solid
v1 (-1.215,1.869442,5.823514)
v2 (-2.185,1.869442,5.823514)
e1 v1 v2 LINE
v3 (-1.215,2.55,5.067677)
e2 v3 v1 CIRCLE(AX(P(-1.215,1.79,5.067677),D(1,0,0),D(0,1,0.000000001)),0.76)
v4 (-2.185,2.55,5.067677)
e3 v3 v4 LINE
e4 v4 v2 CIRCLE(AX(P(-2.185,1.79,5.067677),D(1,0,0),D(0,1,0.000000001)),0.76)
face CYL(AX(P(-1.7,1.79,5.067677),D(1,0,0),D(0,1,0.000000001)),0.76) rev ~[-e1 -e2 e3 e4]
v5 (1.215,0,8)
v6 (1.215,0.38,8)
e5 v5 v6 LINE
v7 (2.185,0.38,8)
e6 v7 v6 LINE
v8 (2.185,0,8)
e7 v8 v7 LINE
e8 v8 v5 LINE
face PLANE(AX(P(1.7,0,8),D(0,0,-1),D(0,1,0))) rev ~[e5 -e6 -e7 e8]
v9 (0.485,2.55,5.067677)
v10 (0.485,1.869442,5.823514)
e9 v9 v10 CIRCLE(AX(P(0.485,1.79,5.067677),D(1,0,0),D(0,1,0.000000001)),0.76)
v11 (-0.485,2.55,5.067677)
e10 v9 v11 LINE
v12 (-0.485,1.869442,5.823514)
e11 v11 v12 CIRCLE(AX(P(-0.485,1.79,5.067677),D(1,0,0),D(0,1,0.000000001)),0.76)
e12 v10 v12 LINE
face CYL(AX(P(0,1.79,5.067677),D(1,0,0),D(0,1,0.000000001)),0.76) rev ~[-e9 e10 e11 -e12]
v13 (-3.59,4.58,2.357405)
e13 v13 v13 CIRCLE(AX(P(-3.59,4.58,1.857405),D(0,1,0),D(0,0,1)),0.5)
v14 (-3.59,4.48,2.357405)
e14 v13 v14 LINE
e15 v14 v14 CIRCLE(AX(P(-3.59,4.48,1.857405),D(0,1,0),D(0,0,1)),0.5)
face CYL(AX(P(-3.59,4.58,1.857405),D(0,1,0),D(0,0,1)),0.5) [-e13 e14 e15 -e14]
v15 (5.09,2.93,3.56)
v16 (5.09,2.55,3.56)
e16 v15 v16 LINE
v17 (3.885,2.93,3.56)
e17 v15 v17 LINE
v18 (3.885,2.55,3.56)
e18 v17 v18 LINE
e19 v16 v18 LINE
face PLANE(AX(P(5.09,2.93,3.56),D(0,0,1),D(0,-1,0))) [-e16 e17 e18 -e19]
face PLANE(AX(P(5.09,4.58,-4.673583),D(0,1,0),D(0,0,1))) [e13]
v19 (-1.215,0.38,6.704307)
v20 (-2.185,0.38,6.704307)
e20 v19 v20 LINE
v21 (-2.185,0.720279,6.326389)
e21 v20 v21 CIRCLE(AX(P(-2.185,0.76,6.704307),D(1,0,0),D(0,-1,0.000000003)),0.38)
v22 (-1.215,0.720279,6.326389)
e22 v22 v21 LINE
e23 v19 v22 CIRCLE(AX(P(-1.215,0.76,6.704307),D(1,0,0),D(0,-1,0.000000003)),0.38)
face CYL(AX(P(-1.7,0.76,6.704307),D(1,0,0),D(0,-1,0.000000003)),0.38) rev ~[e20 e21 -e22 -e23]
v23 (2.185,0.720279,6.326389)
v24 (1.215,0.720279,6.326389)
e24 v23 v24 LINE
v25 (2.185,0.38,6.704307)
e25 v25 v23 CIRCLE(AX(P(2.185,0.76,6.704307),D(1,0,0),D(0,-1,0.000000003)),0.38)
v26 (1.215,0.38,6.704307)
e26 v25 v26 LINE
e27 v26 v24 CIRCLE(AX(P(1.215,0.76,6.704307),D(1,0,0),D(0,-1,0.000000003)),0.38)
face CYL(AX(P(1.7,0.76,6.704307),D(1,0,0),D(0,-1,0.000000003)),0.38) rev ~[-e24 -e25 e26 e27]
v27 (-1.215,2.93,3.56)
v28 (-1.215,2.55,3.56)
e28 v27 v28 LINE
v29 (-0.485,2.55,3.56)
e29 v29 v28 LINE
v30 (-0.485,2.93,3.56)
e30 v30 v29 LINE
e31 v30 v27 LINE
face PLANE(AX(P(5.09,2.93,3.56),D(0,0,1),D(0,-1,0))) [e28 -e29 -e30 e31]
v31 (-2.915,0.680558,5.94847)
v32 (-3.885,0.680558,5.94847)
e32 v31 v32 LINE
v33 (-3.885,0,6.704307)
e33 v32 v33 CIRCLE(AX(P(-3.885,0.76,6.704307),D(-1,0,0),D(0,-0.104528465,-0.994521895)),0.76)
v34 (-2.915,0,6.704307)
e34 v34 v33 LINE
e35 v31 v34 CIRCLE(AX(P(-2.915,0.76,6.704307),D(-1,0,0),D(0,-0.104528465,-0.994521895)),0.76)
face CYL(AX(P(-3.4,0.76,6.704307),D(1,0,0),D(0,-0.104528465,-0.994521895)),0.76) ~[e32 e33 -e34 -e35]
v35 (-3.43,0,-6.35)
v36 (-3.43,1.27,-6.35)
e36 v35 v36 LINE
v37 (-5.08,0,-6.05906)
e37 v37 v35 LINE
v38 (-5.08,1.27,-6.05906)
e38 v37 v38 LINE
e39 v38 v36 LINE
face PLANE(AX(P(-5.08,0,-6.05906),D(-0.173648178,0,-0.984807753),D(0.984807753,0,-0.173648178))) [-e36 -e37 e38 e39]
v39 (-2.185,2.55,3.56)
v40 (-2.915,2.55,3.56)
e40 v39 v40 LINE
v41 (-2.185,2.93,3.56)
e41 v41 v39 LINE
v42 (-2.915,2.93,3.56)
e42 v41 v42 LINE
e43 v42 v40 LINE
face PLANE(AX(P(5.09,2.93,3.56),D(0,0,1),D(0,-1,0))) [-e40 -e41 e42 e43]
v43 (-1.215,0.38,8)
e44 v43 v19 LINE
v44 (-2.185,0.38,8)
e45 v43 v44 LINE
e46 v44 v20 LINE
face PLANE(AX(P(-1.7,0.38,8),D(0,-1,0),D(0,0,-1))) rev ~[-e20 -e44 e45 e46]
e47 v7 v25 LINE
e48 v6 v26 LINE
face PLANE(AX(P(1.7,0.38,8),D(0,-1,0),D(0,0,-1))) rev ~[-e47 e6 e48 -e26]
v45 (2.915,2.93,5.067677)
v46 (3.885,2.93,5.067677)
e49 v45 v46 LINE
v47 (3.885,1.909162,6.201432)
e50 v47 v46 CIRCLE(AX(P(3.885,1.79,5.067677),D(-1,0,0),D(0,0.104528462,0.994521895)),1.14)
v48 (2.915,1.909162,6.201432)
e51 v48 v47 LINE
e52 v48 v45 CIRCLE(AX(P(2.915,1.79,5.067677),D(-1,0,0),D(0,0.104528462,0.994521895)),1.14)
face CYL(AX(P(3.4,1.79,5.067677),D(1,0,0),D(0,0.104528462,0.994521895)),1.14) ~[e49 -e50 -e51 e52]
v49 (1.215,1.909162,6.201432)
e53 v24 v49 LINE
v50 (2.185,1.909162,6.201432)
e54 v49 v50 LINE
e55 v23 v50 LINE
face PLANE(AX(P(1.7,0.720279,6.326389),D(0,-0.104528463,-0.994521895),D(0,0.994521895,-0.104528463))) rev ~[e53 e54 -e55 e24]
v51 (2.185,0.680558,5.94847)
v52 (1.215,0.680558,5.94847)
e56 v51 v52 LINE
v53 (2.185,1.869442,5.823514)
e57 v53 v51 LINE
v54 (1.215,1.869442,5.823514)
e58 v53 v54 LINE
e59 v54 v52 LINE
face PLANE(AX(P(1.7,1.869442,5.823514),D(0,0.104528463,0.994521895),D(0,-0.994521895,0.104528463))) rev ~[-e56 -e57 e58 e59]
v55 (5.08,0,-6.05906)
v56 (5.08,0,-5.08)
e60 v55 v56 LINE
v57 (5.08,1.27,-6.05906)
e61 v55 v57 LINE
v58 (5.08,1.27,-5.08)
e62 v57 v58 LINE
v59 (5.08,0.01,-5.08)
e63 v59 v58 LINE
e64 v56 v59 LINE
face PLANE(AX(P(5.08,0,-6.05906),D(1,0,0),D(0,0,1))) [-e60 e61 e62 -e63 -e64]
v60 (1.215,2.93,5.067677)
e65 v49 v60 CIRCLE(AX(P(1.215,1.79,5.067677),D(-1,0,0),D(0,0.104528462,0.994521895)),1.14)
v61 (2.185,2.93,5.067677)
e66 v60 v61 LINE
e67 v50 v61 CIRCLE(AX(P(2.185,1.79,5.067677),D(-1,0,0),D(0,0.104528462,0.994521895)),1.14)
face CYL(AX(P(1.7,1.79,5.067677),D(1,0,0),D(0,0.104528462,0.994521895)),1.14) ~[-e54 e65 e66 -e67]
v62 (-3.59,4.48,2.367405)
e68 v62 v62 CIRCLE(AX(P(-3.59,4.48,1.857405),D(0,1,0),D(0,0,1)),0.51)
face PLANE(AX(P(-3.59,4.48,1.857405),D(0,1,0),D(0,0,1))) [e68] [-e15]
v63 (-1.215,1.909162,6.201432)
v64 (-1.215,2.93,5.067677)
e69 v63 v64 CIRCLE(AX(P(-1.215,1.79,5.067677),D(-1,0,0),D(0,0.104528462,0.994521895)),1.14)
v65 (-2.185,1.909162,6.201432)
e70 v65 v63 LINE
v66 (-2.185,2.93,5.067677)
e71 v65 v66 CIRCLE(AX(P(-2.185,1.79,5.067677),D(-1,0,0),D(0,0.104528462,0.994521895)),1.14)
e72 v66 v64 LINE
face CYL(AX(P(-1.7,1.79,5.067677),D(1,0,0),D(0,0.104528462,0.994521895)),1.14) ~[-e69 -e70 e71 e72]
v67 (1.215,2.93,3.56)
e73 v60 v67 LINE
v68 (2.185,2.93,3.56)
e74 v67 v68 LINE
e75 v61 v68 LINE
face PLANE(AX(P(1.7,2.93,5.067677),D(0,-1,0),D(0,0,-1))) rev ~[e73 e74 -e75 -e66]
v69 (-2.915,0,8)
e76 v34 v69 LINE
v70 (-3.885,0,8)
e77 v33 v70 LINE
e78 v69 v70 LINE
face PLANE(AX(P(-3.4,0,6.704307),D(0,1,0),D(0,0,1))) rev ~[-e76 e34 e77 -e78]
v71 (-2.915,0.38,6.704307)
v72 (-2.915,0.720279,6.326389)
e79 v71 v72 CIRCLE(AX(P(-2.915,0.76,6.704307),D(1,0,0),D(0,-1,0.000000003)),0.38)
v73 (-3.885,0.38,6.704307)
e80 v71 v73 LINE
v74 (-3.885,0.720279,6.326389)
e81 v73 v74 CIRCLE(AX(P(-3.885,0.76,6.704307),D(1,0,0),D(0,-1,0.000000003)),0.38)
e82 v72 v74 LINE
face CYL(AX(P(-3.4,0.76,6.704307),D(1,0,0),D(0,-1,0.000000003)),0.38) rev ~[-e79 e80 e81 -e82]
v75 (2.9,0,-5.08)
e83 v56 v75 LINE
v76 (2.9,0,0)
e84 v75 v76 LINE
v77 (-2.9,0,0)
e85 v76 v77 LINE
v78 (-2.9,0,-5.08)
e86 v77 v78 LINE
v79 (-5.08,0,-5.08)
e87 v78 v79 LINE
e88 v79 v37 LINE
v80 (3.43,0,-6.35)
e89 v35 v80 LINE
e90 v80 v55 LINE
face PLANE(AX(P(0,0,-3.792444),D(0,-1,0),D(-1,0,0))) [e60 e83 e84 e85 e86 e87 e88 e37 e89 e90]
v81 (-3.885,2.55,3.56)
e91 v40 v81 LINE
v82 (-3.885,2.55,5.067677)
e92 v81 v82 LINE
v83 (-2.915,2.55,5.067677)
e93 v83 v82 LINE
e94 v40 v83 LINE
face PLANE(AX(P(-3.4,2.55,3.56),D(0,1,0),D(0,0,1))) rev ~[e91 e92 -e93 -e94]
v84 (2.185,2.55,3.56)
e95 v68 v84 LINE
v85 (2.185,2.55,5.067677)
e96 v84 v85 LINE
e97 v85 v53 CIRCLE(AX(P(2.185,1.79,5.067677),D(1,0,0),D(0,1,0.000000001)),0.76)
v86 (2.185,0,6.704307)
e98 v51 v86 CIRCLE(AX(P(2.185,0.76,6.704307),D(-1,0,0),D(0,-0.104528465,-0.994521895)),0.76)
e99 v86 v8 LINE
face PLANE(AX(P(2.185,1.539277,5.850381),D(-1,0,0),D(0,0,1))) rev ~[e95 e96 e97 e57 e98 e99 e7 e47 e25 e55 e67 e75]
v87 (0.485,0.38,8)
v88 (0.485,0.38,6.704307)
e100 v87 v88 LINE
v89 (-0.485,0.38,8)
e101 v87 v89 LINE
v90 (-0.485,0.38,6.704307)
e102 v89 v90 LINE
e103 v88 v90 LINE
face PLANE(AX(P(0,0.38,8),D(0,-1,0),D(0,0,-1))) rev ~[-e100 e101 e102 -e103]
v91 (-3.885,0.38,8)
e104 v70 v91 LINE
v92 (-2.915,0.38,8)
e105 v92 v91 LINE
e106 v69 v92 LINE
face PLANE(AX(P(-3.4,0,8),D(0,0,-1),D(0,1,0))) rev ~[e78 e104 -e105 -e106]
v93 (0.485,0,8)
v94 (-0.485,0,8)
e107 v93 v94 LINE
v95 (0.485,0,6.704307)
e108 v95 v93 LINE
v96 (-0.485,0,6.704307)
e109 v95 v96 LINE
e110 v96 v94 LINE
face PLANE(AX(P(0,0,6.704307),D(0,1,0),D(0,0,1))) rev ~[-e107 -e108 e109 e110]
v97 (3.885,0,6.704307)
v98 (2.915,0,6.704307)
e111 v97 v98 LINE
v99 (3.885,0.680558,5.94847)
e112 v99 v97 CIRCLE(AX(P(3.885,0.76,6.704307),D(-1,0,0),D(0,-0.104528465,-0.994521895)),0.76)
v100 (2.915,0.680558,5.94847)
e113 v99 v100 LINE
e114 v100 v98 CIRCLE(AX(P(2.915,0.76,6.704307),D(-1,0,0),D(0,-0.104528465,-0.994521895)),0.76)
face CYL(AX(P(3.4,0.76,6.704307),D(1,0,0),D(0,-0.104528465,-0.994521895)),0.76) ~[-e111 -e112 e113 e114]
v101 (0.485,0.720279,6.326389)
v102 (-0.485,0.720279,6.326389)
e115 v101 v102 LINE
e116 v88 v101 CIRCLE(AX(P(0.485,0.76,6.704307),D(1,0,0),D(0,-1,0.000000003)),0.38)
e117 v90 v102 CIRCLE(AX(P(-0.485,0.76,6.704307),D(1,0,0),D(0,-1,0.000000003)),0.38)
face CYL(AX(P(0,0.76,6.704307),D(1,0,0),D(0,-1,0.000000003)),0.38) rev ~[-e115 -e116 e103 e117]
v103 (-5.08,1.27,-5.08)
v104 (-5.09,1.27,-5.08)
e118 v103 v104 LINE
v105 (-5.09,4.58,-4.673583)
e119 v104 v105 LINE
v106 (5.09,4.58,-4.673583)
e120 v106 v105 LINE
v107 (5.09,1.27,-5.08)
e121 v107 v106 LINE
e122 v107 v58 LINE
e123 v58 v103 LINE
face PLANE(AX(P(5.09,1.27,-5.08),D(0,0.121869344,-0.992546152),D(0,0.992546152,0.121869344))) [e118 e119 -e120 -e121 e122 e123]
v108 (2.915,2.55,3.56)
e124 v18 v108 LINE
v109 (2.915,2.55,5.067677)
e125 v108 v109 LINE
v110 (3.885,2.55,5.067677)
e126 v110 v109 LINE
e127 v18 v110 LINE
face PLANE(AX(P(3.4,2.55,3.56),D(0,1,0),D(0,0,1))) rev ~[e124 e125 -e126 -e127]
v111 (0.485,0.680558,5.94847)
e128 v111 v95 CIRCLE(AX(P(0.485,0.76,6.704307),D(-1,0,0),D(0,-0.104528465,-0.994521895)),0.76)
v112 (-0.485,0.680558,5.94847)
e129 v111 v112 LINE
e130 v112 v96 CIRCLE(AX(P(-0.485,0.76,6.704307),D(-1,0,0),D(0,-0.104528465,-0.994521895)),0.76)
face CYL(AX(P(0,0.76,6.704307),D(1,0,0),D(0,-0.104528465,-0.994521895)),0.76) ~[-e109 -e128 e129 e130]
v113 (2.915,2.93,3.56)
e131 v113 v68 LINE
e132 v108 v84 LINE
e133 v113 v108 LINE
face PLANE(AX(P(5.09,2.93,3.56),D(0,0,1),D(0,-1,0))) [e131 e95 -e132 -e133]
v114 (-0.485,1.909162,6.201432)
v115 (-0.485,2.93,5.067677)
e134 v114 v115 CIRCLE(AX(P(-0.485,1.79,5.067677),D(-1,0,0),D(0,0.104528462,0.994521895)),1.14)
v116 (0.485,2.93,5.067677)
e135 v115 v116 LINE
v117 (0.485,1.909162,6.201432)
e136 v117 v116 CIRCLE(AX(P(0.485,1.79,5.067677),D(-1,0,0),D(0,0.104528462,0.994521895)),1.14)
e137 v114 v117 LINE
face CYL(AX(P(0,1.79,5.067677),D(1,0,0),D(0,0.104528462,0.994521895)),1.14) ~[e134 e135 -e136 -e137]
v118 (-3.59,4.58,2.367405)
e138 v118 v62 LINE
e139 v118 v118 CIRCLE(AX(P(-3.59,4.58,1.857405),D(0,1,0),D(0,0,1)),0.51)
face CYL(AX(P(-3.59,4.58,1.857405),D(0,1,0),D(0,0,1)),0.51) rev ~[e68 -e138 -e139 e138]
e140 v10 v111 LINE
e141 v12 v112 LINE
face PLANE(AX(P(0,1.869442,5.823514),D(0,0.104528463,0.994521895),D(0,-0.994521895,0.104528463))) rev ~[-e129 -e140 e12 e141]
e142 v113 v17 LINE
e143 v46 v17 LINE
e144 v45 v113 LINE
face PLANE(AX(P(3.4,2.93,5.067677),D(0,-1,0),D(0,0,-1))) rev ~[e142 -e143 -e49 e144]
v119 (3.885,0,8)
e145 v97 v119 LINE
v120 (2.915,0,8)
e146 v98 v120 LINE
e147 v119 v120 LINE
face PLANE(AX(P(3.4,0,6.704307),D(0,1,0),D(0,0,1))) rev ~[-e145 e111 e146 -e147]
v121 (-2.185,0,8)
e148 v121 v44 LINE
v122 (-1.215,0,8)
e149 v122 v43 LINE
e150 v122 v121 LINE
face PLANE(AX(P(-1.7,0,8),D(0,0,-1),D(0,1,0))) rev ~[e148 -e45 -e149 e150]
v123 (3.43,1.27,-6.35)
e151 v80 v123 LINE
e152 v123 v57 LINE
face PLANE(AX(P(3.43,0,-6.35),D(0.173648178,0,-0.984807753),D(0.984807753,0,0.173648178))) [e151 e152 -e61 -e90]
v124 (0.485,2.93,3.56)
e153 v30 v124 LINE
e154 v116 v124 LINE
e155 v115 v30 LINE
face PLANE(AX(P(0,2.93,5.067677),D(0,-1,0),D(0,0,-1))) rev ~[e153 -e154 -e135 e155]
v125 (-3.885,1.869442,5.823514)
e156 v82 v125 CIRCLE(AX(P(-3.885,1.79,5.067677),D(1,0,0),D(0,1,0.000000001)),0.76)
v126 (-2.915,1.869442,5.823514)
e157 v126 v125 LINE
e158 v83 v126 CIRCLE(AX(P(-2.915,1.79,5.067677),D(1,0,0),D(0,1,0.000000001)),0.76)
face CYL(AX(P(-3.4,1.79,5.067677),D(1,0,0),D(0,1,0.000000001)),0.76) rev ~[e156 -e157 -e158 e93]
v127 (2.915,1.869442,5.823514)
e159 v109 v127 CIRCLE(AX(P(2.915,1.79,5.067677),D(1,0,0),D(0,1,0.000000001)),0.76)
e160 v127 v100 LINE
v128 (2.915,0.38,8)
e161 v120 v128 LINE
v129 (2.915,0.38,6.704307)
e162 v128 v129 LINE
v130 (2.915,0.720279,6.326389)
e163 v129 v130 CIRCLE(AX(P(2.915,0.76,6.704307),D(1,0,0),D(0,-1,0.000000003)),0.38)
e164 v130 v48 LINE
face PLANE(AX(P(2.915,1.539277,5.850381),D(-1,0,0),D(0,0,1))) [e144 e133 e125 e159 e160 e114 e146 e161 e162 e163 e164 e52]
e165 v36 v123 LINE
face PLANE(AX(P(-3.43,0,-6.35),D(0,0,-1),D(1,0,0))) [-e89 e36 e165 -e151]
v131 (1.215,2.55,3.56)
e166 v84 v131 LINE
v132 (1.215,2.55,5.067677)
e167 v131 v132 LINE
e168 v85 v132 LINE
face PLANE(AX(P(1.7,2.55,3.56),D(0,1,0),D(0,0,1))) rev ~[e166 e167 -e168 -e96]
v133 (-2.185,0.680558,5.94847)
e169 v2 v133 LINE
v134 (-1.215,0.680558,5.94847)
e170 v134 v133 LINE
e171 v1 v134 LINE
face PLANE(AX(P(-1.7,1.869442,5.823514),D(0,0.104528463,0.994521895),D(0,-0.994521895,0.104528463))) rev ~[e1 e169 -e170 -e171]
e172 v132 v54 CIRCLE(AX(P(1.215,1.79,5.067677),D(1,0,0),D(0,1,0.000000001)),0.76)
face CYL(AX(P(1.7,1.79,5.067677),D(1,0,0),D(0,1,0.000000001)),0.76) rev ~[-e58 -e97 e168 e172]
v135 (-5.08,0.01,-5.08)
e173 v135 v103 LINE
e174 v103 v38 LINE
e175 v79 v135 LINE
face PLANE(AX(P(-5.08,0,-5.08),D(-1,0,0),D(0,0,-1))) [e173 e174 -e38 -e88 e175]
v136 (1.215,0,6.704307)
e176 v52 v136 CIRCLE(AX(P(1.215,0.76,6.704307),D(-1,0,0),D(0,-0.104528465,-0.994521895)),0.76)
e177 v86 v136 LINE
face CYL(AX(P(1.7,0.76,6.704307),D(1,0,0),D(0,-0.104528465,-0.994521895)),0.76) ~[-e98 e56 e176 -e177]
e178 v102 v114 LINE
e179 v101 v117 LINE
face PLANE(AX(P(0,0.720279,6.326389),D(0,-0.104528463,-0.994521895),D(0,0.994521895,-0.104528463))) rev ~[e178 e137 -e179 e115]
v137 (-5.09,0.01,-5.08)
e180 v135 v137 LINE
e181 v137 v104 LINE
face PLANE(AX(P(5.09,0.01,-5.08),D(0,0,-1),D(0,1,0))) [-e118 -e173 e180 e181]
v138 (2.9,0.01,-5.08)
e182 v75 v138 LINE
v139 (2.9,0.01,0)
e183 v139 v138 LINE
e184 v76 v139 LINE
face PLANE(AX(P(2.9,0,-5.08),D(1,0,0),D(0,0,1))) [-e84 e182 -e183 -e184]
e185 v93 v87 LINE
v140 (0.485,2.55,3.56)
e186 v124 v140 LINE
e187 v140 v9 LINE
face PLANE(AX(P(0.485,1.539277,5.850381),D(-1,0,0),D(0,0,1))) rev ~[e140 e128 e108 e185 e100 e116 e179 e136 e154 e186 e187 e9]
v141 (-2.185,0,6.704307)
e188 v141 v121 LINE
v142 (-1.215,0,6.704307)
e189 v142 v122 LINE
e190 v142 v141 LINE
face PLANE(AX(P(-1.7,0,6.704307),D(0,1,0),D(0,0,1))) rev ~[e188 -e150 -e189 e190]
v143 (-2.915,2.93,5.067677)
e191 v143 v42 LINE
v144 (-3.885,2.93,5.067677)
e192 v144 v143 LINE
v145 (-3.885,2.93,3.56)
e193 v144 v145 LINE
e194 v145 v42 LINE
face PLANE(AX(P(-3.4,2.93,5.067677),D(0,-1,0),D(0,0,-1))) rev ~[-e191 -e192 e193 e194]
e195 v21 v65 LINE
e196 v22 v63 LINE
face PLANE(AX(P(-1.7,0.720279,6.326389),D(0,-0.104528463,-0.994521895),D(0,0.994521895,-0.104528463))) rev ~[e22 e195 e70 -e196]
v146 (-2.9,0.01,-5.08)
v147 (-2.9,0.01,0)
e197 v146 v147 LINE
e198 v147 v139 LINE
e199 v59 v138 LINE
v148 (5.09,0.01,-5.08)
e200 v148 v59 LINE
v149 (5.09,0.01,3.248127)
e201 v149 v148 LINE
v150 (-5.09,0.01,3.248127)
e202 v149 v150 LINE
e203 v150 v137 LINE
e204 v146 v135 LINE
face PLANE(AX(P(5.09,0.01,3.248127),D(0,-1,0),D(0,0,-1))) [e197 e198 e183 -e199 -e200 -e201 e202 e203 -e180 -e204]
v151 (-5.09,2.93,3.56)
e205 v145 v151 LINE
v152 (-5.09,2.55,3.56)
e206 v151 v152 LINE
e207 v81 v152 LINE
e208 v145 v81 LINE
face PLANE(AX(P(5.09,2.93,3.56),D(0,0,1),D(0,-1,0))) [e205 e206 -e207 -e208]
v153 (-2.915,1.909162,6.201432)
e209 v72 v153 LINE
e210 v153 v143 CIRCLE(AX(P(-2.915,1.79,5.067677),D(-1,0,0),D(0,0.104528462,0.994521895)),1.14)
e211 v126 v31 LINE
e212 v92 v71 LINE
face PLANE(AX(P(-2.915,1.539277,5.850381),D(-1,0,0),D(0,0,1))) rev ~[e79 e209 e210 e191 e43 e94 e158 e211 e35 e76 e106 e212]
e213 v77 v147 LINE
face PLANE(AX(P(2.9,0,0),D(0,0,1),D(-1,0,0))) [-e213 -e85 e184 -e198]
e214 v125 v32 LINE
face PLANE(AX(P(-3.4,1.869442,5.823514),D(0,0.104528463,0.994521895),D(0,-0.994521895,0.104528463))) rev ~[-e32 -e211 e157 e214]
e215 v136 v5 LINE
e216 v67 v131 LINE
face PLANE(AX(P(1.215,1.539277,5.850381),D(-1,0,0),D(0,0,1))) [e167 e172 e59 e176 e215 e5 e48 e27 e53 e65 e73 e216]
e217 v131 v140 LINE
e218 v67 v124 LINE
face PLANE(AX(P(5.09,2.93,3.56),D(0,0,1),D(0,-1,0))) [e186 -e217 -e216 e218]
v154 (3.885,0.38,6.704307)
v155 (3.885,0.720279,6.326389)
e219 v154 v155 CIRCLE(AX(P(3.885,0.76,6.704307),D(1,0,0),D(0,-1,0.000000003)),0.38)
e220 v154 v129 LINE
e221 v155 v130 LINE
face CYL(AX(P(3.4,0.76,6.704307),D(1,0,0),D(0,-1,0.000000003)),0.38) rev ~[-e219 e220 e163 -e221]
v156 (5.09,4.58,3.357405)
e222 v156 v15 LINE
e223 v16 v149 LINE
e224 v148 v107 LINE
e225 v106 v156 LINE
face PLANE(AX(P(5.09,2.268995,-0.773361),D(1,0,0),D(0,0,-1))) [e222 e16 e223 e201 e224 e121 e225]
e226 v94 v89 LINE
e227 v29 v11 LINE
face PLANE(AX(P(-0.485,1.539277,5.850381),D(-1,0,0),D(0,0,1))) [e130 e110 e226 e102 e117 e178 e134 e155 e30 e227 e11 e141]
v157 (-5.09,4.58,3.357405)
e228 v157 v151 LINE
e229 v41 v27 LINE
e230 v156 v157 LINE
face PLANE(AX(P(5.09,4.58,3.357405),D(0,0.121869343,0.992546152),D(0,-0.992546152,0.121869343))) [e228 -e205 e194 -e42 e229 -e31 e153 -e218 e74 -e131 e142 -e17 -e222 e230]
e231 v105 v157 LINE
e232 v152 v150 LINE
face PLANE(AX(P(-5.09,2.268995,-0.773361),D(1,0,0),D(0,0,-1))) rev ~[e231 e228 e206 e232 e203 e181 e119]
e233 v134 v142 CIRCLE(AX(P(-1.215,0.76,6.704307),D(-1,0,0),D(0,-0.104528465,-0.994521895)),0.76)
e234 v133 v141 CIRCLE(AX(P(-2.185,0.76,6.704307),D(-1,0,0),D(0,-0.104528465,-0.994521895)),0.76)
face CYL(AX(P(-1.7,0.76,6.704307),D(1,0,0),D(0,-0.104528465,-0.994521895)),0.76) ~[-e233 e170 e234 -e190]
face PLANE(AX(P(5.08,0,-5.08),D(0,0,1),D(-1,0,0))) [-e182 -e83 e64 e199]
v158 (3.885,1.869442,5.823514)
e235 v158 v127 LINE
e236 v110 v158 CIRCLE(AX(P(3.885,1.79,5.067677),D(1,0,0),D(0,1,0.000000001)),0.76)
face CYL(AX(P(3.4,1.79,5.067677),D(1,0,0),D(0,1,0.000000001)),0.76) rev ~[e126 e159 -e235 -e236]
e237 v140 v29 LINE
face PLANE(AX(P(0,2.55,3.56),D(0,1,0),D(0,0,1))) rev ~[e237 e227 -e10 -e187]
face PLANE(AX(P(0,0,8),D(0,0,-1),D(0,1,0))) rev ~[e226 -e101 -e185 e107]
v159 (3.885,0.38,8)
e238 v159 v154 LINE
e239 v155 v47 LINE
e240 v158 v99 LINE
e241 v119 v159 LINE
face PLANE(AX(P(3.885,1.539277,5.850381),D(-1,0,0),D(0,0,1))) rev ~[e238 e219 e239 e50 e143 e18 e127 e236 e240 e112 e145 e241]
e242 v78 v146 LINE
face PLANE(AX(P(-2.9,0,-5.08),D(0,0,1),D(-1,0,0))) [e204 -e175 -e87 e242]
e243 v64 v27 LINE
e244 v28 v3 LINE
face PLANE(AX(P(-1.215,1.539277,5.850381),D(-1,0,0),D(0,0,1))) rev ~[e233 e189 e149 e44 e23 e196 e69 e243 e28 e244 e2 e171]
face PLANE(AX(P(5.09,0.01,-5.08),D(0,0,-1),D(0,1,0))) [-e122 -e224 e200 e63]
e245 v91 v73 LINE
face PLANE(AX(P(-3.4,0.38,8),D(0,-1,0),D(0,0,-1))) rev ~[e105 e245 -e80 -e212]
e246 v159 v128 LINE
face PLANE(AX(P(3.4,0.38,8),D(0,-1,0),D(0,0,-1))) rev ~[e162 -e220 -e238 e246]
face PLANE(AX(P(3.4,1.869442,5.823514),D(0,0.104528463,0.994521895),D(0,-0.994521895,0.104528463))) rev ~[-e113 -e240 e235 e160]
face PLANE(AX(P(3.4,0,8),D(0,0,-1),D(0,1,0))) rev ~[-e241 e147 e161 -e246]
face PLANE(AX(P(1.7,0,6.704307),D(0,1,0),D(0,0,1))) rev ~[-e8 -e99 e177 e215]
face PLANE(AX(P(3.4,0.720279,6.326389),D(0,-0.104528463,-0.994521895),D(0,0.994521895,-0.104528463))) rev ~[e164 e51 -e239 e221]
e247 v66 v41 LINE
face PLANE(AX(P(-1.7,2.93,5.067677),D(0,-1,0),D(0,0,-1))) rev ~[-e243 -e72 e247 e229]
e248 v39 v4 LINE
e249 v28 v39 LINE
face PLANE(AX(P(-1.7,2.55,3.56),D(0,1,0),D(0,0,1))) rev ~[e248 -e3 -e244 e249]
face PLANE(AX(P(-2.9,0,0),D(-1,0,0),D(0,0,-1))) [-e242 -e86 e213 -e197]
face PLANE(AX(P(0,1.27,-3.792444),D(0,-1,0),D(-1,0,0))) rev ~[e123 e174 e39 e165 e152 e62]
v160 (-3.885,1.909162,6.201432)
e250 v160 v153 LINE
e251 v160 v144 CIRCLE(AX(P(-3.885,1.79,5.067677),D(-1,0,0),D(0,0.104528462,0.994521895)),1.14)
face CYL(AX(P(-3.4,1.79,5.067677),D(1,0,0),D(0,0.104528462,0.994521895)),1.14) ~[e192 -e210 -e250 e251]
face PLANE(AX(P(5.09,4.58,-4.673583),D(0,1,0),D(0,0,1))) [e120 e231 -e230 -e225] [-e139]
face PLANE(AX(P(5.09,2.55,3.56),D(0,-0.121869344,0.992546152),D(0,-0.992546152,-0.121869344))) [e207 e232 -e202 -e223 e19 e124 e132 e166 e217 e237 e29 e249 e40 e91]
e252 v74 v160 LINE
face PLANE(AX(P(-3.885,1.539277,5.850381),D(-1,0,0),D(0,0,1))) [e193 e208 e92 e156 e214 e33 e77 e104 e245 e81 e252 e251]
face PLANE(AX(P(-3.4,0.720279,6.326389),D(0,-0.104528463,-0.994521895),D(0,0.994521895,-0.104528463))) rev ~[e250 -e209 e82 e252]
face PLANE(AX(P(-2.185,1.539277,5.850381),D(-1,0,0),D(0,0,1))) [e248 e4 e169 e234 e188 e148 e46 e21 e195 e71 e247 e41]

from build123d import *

# Parameters (mm, degrees)
EXTRUDE_1_DEPTH            = 1.27
EXTRUDE_2_DEPTH            = 0.01
EXTRUDE_2_DEPTH_BACK       = 10.17
SKETCH_4_R                 = 0.51
SKETCH_4_R_2               = 0.5
CUT_EXTRUDE_1_DEPTH        = 0.1
EXTRUDE_3_DEPTH            = 0.485
PATTERN_LINEAR_1_COUNT     = 3
PATTERN_LINEAR_1_PITCH     = 1.7
PATTERN_LINEAR_1_COL_COUNT = 3
PATTERN_LINEAR_1_COL_PITCH = 1.7


with BuildPart() as part:
    # Эскиз2 → Бобышка-Вытянуть1 (new body)
    with BuildSketch(Plane(origin=(0, 0, 0), x_dir=(1, 0, 0), z_dir=(0, 1, 0))):
        Polygon((3.43, 6.35), (5.08, 6.059060482), (5.08, 5.08), (2.9, 5.08), (2.9, 0), (-2.9, 0), (-2.9, 5.08), (-5.08, 5.08), (-5.08, 6.059060482), (-3.43, 6.35), align=None)
    extrude(amount=EXTRUDE_1_DEPTH)

    # Эскиз3 → Бобышка-Вытянуть2 (add, two sides: drawn at the far end of the back side and taken through both)
    with BuildSketch(Plane.ZY.offset(5.08).offset(-EXTRUDE_2_DEPTH_BACK)):
        Polygon((-5.08, 0.01), (-5.08, 1.27), (-4.673583103, 4.58), (3.357405475, 4.58), (3.56, 2.93), (3.56, 2.55), (3.248127215, 0.01), align=None)
    extrude(amount=EXTRUDE_2_DEPTH + EXTRUDE_2_DEPTH_BACK)

    # Эскиз4 → Вырез-Вытянуть1 (cut)
    with BuildSketch(Plane(origin=(0, 4.58, 0), x_dir=(1, 0, 0), z_dir=(0, 1, 0))):
        with Locations(Location((-3.59, -1.857405475, 0), (0, 0, 270))):
            Circle(SKETCH_4_R)
        with Locations(Location((-3.59, -1.857405475, 0), (0, 0, 270))):
            Circle(SKETCH_4_R_2, mode=Mode.SUBTRACT)
    extrude(amount=-CUT_EXTRUDE_1_DEPTH, mode=Mode.SUBTRACT)

    # Эскиз5 → Бобышка-Вытянуть3 (add, symmetric)
    with BuildSketch(Plane(origin=(0, 0, 0), x_dir=(0, 0, -1), z_dir=(1, 0, 0))):
        with BuildLine():
            Line((-3.56, 2.93), (-3.56, 2.55))
            Line((-3.56, 2.55), (-5.067677126, 2.55))
            ThreePointArc((-5.067677126, 2.55), (-5.576216387, 2.354790067), (-5.823513767, 1.869441632))
            Line((-5.823513767, 1.869441632), (-5.948470433, 0.680558368))
            ThreePointArc((-5.948470433, 0.680558368), (-6.195767813, 0.195209933), (-6.704307074, 0))
            Line((-6.704307074, 0), (-8, 0))
            Line((-8, 0), (-8, 0.38))
            Line((-8, 0.38), (-6.704307074, 0.38))
            ThreePointArc((-6.704307074, 0.38), (-6.450037443, 0.477604966), (-6.326388753, 0.720279184))
            Line((-6.326388753, 0.720279184), (-6.201432087, 1.909162448))
            ThreePointArc((-6.201432087, 1.909162448), (-5.830486018, 2.637185101), (-5.067677126, 2.93))
            Line((-5.067677126, 2.93), (-3.56, 2.93))
        make_face()
    extrude_3 = extrude(amount=EXTRUDE_3_DEPTH, both=True)

    # Линейный массив1: Бобышка-Вытянуть3 ×3
    with Locations(*[(-i * PATTERN_LINEAR_1_PITCH, 0, 0) for i in range(1, PATTERN_LINEAR_1_COUNT)]):
        add(extrude_3)

    # Линейный массив1 col: Бобышка-Вытянуть3 ×3
    with Locations(*[(i * PATTERN_LINEAR_1_COL_PITCH, 0, 0) for i in range(1, PATTERN_LINEAR_1_COL_COUNT)]):
        add(extrude_3)


solid = part.part
